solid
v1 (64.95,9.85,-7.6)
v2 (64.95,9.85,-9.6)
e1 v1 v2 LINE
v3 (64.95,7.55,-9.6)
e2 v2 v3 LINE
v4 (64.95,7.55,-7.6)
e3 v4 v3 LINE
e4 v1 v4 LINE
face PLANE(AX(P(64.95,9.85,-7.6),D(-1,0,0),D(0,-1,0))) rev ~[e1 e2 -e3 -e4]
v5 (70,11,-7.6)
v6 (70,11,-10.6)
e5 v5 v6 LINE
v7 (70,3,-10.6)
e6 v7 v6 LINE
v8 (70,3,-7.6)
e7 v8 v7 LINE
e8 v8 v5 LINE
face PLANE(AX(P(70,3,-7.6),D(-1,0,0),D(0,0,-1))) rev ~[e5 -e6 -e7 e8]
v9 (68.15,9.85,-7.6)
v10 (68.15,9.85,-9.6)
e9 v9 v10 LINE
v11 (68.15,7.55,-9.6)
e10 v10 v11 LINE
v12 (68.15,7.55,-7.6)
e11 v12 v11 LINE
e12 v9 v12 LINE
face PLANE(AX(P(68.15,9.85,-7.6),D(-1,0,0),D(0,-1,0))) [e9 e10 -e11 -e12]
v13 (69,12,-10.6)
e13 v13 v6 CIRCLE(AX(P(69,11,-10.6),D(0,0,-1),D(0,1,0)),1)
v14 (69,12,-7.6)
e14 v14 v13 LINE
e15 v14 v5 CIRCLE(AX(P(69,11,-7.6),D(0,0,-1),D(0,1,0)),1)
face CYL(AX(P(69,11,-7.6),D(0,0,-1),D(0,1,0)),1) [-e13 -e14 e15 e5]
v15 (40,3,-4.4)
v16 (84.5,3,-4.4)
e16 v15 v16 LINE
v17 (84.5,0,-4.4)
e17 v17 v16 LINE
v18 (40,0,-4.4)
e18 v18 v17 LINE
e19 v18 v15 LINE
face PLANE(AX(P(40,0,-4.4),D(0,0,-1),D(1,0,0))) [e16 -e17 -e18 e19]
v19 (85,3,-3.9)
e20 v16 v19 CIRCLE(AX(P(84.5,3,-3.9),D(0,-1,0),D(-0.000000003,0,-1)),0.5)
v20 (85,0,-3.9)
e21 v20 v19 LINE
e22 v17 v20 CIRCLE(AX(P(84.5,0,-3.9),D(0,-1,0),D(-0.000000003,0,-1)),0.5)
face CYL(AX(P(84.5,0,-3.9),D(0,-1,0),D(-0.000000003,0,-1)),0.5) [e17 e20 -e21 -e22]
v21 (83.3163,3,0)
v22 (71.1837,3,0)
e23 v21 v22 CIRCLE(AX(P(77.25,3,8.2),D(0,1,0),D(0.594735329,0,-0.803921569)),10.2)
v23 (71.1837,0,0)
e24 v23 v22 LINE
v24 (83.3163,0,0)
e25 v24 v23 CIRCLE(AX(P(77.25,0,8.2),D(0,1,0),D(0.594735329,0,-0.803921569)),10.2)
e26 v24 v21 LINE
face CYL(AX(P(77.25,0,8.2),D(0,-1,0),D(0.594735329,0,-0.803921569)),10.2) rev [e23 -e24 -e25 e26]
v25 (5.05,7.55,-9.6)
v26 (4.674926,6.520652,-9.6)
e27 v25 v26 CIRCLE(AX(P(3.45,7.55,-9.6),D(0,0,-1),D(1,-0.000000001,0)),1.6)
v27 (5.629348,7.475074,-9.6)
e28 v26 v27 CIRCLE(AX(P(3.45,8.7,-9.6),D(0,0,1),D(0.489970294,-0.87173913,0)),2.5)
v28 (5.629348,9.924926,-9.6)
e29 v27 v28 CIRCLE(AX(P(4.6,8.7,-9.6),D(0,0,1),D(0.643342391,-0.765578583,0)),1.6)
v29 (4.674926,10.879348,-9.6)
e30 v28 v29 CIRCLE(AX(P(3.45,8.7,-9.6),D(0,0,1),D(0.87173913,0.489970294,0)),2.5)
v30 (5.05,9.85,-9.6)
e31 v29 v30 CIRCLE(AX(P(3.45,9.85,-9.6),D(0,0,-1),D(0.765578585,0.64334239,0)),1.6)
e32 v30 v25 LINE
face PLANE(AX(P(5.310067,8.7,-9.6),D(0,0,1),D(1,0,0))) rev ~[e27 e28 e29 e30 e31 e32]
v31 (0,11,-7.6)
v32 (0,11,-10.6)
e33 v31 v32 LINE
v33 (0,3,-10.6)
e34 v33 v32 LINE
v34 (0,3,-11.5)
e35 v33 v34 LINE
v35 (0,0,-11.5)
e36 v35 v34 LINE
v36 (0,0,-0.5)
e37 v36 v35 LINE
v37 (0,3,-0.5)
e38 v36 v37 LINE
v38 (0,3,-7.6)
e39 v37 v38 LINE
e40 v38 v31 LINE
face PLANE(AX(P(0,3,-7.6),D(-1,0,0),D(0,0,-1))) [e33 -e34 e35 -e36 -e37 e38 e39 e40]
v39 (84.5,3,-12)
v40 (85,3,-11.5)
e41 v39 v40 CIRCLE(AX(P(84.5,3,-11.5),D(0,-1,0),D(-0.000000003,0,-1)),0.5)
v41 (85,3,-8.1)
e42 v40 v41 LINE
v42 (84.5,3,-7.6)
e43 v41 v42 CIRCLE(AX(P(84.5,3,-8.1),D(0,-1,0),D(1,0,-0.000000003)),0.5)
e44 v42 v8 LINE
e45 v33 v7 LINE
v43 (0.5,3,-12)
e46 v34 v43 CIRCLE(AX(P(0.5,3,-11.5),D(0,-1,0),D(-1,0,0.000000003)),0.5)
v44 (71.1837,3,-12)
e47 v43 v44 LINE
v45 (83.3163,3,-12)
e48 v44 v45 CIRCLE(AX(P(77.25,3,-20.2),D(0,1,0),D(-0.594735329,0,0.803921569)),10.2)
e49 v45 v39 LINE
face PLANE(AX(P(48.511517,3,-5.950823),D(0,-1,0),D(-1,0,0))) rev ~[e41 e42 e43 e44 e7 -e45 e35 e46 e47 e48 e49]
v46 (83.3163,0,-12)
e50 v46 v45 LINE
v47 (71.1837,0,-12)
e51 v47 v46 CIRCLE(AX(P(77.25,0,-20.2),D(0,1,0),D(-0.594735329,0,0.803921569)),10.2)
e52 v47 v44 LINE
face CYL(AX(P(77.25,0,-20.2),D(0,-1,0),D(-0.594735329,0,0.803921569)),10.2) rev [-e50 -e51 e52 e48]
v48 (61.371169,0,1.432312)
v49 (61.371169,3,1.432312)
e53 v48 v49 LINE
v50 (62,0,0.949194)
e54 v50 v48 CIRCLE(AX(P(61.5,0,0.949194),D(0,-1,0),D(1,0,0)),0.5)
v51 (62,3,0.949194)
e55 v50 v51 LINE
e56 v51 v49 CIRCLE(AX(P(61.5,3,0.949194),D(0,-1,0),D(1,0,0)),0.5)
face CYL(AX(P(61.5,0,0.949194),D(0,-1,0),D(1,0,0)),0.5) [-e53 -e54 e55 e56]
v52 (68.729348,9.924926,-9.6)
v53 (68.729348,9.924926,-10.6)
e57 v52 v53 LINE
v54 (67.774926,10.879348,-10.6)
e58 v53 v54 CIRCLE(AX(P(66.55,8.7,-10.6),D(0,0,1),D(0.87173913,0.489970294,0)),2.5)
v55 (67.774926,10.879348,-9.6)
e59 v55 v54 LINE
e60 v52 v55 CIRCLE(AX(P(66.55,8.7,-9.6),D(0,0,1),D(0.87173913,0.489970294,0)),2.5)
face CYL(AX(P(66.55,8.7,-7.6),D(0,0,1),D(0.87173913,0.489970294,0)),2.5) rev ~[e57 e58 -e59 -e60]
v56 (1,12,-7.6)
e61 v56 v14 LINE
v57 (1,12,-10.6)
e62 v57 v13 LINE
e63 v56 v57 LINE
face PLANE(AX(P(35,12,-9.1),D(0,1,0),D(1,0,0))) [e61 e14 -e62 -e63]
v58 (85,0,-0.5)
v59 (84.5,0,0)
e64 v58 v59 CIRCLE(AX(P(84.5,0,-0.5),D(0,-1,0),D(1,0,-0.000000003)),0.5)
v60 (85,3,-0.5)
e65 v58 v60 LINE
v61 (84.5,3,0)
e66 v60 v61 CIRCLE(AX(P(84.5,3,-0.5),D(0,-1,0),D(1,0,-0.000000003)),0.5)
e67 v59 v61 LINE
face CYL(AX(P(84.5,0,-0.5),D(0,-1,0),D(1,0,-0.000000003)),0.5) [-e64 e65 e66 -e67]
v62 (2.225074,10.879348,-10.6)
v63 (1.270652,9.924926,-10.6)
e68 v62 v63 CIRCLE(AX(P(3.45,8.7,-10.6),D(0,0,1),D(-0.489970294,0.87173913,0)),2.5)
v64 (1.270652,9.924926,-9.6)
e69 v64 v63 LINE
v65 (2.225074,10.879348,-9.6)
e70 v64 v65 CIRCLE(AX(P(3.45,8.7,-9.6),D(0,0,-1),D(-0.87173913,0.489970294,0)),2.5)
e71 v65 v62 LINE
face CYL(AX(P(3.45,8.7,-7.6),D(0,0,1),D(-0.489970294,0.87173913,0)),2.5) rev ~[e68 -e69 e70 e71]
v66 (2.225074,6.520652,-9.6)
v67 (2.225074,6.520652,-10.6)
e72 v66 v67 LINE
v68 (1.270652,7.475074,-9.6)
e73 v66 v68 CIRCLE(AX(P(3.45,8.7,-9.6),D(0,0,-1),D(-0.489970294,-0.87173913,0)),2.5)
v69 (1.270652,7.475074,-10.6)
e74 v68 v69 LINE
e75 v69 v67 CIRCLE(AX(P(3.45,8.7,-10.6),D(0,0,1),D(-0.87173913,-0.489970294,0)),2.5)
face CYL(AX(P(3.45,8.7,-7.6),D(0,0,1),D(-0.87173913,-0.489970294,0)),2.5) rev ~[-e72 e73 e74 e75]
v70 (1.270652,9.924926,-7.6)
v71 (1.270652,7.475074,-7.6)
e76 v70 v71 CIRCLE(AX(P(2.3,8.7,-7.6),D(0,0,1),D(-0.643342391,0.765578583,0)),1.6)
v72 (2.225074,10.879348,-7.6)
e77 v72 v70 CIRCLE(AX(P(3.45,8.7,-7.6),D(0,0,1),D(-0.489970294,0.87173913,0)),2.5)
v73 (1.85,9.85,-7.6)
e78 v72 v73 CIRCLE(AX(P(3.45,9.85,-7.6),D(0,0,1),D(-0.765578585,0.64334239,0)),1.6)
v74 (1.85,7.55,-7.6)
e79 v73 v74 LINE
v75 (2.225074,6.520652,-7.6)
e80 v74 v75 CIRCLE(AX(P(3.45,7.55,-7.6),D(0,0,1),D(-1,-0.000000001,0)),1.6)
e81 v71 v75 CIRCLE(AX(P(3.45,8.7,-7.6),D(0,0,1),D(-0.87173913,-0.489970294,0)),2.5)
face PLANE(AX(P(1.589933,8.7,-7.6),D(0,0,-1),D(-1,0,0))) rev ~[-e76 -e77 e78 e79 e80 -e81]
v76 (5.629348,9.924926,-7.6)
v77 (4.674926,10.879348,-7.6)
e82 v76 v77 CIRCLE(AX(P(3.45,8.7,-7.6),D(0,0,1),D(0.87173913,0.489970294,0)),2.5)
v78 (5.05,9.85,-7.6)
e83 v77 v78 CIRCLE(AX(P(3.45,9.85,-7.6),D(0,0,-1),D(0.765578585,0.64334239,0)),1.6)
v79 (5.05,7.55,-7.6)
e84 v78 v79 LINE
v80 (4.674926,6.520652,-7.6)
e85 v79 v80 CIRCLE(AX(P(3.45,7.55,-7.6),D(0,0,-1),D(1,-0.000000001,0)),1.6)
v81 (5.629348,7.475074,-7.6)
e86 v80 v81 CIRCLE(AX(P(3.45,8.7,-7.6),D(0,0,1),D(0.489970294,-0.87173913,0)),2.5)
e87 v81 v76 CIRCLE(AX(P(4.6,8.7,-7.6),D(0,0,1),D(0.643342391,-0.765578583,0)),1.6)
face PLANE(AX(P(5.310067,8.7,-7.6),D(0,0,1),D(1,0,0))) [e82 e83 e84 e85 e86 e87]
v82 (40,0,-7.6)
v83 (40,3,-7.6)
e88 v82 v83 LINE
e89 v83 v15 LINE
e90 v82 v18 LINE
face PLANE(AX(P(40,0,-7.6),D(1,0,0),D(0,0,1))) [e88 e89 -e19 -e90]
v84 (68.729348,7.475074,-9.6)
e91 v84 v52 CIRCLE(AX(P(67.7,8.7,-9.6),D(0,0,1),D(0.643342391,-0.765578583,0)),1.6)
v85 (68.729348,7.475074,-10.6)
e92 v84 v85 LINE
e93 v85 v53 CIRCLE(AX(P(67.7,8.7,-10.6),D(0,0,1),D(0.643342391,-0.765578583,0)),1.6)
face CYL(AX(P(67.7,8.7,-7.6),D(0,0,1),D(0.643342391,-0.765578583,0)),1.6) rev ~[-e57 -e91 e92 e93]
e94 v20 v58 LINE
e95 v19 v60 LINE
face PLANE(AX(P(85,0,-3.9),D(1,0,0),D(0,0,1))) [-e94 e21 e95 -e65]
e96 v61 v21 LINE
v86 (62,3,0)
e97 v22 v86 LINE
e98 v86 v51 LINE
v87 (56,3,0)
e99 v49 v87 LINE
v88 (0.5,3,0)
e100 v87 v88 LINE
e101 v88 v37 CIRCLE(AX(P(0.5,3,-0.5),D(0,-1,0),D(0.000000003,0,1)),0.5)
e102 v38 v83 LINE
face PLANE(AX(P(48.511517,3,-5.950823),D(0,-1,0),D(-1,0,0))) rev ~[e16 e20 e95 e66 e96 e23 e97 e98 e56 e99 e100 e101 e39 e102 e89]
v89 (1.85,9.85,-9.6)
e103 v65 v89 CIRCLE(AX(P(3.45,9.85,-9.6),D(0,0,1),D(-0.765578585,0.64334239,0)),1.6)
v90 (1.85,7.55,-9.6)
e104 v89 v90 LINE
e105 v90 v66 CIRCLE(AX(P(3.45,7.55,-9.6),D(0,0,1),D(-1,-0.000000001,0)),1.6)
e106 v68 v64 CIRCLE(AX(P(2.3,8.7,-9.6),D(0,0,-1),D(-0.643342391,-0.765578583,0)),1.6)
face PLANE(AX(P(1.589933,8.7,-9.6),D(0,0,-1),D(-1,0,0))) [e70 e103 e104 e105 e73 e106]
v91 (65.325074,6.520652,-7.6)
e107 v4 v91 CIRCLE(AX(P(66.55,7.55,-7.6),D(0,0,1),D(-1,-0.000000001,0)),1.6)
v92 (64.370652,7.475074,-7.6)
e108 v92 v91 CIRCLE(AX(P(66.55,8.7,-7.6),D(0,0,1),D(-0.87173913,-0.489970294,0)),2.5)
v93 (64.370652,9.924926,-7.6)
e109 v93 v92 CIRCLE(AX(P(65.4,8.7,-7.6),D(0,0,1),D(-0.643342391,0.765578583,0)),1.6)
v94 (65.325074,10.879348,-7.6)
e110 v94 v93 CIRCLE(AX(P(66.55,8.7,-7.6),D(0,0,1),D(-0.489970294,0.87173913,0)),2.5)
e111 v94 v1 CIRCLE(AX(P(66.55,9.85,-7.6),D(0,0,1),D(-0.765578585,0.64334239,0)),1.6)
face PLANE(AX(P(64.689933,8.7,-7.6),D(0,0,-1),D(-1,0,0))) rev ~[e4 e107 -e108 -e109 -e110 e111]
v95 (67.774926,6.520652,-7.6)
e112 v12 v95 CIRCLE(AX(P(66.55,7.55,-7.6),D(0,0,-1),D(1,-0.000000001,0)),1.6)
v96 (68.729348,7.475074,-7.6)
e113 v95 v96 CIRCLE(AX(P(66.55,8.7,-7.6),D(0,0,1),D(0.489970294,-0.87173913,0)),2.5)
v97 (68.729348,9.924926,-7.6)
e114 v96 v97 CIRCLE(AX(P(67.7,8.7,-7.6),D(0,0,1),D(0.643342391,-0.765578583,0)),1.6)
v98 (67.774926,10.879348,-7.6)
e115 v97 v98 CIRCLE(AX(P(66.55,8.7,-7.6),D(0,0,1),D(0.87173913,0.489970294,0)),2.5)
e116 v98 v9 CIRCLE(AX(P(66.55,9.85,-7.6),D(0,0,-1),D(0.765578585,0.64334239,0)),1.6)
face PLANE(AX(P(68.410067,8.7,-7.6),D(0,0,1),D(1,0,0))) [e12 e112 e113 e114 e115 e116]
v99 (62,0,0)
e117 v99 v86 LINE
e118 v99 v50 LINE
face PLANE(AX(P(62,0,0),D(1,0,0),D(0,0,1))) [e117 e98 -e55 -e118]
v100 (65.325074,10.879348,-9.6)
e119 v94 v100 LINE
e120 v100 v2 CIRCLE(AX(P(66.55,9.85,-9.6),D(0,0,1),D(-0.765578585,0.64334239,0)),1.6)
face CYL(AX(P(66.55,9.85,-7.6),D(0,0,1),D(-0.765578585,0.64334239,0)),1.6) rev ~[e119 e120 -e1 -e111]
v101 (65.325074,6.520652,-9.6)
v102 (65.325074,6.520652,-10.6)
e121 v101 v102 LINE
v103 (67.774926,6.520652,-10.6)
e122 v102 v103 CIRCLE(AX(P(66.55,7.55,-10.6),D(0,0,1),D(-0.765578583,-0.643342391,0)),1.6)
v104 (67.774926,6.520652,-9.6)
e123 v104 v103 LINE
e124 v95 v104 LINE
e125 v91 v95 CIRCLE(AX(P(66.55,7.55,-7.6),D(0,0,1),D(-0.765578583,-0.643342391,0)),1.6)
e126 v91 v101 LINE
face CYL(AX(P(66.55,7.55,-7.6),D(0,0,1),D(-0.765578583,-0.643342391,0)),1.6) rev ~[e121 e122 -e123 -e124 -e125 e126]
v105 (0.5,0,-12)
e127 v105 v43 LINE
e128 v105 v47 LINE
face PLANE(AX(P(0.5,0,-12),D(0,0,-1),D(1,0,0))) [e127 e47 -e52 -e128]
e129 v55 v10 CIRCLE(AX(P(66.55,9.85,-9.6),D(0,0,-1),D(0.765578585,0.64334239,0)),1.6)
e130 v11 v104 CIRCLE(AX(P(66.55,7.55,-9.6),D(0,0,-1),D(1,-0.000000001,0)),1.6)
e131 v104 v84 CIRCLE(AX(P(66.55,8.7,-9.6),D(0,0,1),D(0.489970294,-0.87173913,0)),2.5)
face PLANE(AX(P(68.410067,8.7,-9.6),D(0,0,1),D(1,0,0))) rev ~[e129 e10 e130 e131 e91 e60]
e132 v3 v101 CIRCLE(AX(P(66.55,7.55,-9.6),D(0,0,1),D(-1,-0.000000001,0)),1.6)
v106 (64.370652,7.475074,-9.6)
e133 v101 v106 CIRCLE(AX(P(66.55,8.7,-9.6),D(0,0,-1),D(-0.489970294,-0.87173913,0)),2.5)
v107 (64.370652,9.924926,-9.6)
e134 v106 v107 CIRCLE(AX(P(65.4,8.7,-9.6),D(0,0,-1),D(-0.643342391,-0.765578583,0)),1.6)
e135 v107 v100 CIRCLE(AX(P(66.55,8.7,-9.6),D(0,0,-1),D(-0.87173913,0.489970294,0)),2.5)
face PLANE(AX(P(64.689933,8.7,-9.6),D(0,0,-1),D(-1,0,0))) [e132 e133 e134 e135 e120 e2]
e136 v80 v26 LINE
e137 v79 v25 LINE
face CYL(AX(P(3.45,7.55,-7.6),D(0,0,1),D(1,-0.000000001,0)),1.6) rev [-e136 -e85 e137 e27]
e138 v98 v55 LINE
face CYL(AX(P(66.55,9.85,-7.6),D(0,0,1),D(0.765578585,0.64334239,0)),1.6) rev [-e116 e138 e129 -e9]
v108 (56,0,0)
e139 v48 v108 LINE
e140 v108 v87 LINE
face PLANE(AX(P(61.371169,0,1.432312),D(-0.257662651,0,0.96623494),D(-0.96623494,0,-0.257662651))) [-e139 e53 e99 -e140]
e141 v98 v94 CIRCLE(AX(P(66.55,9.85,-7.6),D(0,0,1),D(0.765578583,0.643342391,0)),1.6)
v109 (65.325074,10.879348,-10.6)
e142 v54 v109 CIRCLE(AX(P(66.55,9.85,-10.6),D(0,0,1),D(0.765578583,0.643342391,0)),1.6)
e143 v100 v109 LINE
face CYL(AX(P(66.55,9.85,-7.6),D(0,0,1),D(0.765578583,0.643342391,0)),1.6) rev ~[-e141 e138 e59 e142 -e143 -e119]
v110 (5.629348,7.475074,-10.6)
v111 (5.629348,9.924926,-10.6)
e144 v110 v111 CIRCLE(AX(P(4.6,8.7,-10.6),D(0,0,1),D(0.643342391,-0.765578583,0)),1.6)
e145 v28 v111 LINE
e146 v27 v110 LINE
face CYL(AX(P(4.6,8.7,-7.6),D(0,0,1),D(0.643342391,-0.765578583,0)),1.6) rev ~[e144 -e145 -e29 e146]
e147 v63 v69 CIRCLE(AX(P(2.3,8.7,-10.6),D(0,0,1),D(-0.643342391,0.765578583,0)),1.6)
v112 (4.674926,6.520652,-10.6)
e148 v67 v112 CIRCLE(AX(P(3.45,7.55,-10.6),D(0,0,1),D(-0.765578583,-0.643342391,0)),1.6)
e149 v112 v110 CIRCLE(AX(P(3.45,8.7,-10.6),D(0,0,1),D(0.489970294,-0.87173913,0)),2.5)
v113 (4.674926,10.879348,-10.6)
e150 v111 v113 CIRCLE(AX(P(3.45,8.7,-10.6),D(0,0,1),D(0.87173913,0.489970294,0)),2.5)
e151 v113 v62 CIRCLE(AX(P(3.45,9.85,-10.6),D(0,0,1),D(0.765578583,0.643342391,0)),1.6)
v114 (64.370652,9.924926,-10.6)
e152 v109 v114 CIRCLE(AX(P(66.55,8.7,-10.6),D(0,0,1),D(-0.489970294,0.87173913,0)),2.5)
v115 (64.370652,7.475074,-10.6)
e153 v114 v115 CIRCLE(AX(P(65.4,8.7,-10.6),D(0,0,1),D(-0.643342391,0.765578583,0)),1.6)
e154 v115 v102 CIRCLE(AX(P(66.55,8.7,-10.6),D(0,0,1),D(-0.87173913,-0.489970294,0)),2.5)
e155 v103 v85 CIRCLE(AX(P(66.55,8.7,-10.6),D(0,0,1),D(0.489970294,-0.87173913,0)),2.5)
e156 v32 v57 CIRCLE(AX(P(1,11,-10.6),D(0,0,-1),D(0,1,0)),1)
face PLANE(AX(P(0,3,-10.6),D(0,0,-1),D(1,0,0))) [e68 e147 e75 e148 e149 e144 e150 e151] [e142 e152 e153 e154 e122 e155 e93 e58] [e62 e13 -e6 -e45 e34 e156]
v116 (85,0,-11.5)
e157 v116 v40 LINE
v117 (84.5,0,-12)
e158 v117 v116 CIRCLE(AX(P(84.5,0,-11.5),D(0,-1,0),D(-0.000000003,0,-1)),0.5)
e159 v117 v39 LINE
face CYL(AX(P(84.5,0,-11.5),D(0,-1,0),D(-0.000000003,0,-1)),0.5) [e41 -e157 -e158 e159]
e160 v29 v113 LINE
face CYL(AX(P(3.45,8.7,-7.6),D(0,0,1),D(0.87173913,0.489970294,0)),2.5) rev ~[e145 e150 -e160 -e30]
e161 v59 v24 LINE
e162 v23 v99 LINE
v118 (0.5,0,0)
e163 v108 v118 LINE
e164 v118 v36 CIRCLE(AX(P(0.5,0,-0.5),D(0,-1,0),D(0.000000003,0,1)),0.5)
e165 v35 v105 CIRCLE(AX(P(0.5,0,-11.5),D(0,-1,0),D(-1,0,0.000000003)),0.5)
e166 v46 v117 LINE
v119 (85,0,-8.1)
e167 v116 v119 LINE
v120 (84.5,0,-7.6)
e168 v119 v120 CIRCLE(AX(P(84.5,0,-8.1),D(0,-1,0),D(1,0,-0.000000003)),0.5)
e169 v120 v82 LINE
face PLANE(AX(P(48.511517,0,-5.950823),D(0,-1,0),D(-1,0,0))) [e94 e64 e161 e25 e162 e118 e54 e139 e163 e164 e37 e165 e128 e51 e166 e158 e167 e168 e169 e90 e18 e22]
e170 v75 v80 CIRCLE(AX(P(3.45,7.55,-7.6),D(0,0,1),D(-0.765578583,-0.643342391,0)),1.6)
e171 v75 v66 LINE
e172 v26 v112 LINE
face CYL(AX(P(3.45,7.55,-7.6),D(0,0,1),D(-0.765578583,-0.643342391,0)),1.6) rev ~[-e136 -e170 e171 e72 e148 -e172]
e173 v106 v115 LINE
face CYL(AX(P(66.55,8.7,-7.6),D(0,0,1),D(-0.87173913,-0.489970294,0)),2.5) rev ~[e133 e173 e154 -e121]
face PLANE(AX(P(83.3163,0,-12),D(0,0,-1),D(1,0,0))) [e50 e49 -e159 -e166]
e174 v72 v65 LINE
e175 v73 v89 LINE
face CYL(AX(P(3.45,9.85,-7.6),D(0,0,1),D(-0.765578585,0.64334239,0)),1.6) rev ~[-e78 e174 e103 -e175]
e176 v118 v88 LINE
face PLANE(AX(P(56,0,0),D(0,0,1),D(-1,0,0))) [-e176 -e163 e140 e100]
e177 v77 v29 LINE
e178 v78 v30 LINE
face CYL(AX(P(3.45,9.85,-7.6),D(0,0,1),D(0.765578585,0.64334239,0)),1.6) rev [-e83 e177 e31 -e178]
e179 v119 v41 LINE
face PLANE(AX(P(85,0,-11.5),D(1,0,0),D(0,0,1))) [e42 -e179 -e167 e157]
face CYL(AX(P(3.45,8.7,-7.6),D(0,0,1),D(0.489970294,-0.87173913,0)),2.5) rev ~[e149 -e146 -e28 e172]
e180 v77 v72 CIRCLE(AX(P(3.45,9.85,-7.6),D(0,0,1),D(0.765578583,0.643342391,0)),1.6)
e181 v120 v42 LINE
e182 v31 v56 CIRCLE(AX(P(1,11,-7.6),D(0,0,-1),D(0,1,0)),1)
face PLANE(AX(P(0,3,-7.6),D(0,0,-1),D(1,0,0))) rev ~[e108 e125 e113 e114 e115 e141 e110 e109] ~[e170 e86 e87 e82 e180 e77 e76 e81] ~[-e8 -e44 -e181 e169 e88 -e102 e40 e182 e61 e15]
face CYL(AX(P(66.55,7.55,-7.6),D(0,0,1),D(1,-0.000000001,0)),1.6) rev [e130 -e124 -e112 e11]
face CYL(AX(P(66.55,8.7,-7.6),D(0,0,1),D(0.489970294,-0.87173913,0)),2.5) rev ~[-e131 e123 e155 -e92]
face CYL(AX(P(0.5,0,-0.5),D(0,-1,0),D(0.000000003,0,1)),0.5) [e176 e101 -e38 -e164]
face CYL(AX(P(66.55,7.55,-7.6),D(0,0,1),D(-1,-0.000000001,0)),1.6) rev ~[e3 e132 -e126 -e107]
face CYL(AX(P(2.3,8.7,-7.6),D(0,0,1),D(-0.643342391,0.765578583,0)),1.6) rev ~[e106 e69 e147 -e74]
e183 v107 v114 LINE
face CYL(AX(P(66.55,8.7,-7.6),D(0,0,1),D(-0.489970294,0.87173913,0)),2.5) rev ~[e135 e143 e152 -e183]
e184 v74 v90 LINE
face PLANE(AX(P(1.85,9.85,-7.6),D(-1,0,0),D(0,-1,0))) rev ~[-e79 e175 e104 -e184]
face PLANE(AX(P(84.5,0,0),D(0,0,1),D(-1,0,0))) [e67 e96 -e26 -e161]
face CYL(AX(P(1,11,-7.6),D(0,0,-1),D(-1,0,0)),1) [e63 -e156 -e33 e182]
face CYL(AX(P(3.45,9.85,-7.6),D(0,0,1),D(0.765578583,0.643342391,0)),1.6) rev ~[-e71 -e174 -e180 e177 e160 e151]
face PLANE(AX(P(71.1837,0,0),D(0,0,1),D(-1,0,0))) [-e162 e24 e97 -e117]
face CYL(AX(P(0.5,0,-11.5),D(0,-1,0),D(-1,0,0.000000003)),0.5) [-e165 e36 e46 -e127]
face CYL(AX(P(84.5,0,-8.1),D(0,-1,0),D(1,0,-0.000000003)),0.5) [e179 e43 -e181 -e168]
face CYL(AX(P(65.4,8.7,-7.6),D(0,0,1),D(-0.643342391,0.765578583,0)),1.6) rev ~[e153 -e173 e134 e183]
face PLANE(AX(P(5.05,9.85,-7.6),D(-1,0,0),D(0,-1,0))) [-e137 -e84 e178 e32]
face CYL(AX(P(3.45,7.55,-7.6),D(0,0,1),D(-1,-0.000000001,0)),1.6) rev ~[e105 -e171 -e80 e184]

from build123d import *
from build123d.topology import SkipClean

# Parameters (mm, degrees)
EXTRUDE_1_DEPTH     = 3
SKETCH_4_W          = 70
SKETCH_4_H          = 3
EXTRUDE_2_DEPTH     = 9
CUT_EXTRUDE_1_REACH = 88.319
FILLET_1_R          = 1
EXTRUDE_3_DEPTH     = 2


with BuildPart() as part:
    # ｽｹｯﾁ2 → ﾎﾞｽ - 押し出し1 (new body)
    with BuildSketch(Plane(origin=(0, 0, 0), x_dir=(1, 0, 0), z_dir=(0, 1, 0))):
        with BuildLine():
            Line((70, 7.6), (40, 7.6))
            Line((40, 7.6), (40, 4.4))
            Line((40, 4.4), (70, 4.4))
            Line((70, 4.4), (84.5, 4.4))
            ThreePointArc((84.5, 4.4), (84.853553391, 4.253553391), (85, 3.9))
            Line((85, 3.9), (85, 0.5))
            ThreePointArc((85, 0.5), (84.853553391, 0.146446609), (84.5, 0))
            Line((84.5, 0), (83.316300355, 0))
            ThreePointArc((83.316300355, 0), (77.25, 2), (71.183699645, 0))
            Line((71.183699645, 0), (70, 0))
            Line((70, 0), (62, 0))
            Line((62, 0), (62, -0.949194177))
            ThreePointArc((62, -0.949194177), (61.80461807, -1.345688605), (61.371168675, -1.432311647))
            Line((61.371168675, -1.432311647), (56, 0))
            Line((56, 0), (0.5, 0))
            ThreePointArc((0.5, 0), (0.146446609, 0.146446609), (0, 0.5))
            Line((0, 0.5), (0, 11.5))
            ThreePointArc((0, 11.5), (0.146446609, 11.853553391), (0.5, 12))
            Line((0.5, 12), (70, 12))
            Line((70, 12), (71.183699645, 12))
            ThreePointArc((71.183699645, 12), (77.25, 10), (83.316300355, 12))
            Line((83.316300355, 12), (84.5, 12))
            ThreePointArc((84.5, 12), (84.853553391, 11.853553391), (85, 11.5))
            Line((85, 11.5), (85, 8.1))
            ThreePointArc((85, 8.1), (84.853553391, 7.746446609), (84.5, 7.6))
            Line((84.5, 7.6), (70, 7.6))
        make_face()
    extrude(amount=EXTRUDE_1_DEPTH)

    # ｽｹｯﾁ4 → ﾎﾞｽ - 押し出し2 (add)
    with BuildSketch(Plane(origin=(0, 3, 0), x_dir=(1, 0, 0), z_dir=(0, 1, 0))):
        with Locations((35, 9.1)):
            Rectangle(SKETCH_4_W, SKETCH_4_H)
    extrude(amount=EXTRUDE_2_DEPTH)

    # ｽｹｯﾁ5 → ｶｯﾄ - 押し出し1 (cut, up to next)
    with BuildSketch(Plane.XY.offset(-7.6), mode=Mode.PRIVATE) as cut_extrude_1_sk1:
        with BuildLine():
            ThreePointArc((64.370652174, 9.924925734), (63.8, 8.7), (64.370652174, 7.475074266))
            ThreePointArc((64.370652174, 7.475074266), (64.782233047, 6.932233047), (65.325074266, 6.520652174))
            ThreePointArc((65.325074266, 6.520652174), (66.55, 5.95), (67.774925734, 6.520652174))
            ThreePointArc((67.774925734, 6.520652174), (68.317766953, 6.932233047), (68.729347826, 7.475074266))
            ThreePointArc((68.729347826, 7.475074266), (69.3, 8.7), (68.729347826, 9.924925734))
            ThreePointArc((68.729347826, 9.924925734), (68.317766953, 10.467766953), (67.774925734, 10.879347826))
            ThreePointArc((67.774925734, 10.879347826), (66.55, 11.45), (65.325074266, 10.879347826))
            ThreePointArc((65.325074266, 10.879347826), (64.782233047, 10.467766953), (64.370652174, 9.924925734))
        make_face()
    cut_extrude_1_tool1 = extrude(cut_extrude_1_sk1.sketch, amount=-CUT_EXTRUDE_1_REACH, mode=Mode.PRIVATE) & part.part
    # ｽｹｯﾁ5 → ｶｯﾄ - 押し出し1 (cut, up to next)
    with BuildSketch(Plane.XY.offset(-7.6), mode=Mode.PRIVATE) as cut_extrude_1_sk2:
        with BuildLine():
            ThreePointArc((5.629347826, 7.475074266), (6.2, 8.7), (5.629347826, 9.924925734))
            ThreePointArc((5.629347826, 9.924925734), (5.217766953, 10.467766953), (4.674925734, 10.879347826))
            ThreePointArc((4.674925734, 10.879347826), (3.45, 11.45), (2.225074266, 10.879347826))
            ThreePointArc((2.225074266, 10.879347826), (1.682233047, 10.467766953), (1.270652174, 9.924925734))
            ThreePointArc((1.270652174, 9.924925734), (0.7, 8.7), (1.270652174, 7.475074266))
            ThreePointArc((1.270652174, 7.475074266), (1.682233047, 6.932233047), (2.225074266, 6.520652174))
            ThreePointArc((2.225074266, 6.520652174), (3.45, 5.95), (4.674925734, 6.520652174))
            ThreePointArc((4.674925734, 6.520652174), (5.217766953, 6.932233047), (5.629347826, 7.475074266))
        make_face()
    cut_extrude_1_tool2 = extrude(cut_extrude_1_sk2.sketch, amount=-CUT_EXTRUDE_1_REACH, mode=Mode.PRIVATE) & part.part
    add(cut_extrude_1_tool1.solids().sort_by_distance((66.55, 8.7, -7.6))[0], mode=Mode.SUBTRACT)
    add(cut_extrude_1_tool2.solids().sort_by_distance((3.45, 8.7, -7.6))[0], mode=Mode.SUBTRACT)

    # ﾌｨﾚｯﾄ1
    fillet_1_edges = [part.edges().sort_by_distance(p)[0] for p in [
        (70, 12, -9.1),
        (0, 12, -9.1),
    ]]
    fillet(fillet_1_edges, radius=FILLET_1_R)

    # ｽｹｯﾁ6 → ﾎﾞｽ - 押し出し3 (add)
    with SkipClean():  # the faces are left unmerged after this step: merging them gives an invalid solid
        with BuildSketch(Plane.XY.offset(-7.6)):
            with BuildLine():
                Line((1.85, 9.85), (1.85, 7.55))
                ThreePointArc((1.85, 7.55), (1.946690123, 7.002223209), (2.225074266, 6.520652174))
                ThreePointArc((2.225074266, 6.520652174), (1.682233047, 6.932233047), (1.270652174, 7.475074266))
                ThreePointArc((1.270652174, 7.475074266), (0.7, 8.7), (1.270652174, 9.924925734))
                ThreePointArc((1.270652174, 9.924925734), (1.682233047, 10.467766953), (2.225074266, 10.879347826))
                ThreePointArc((2.225074266, 10.879347826), (1.946690123, 10.397776791), (1.85, 9.85))
            make_face()
            with BuildLine():
                Line((5.05, 9.85), (5.05, 7.55))
                ThreePointArc((5.05, 7.55), (4.953309877, 7.002223209), (4.674925734, 6.520652174))
                ThreePointArc((4.674925734, 6.520652174), (5.217766953, 6.932233047), (5.629347826, 7.475074266))
                ThreePointArc((5.629347826, 7.475074266), (6.2, 8.7), (5.629347826, 9.924925734))
                ThreePointArc((5.629347826, 9.924925734), (5.217766953, 10.467766953), (4.674925734, 10.879347826))
                ThreePointArc((4.674925734, 10.879347826), (4.953309877, 10.397776791), (5.05, 9.85))
            make_face()
            with BuildLine():
                Line((64.95, 9.85), (64.95, 7.55))
                ThreePointArc((64.95, 7.55), (65.046690123, 7.002223209), (65.325074266, 6.520652174))
                ThreePointArc((65.325074266, 6.520652174), (64.782233047, 6.932233047), (64.370652174, 7.475074266))
                ThreePointArc((64.370652174, 7.475074266), (63.8, 8.7), (64.370652174, 9.924925734))
                ThreePointArc((64.370652174, 9.924925734), (64.782233047, 10.467766953), (65.325074266, 10.879347826))
                ThreePointArc((65.325074266, 10.879347826), (65.046690123, 10.397776791), (64.95, 9.85))
            make_face()
            with BuildLine():
                Line((68.15, 9.85), (68.15, 7.55))
                ThreePointArc((68.15, 7.55), (68.053309877, 7.002223209), (67.774925734, 6.520652174))
                ThreePointArc((67.774925734, 6.520652174), (68.317766953, 6.932233047), (68.729347826, 7.475074266))
                ThreePointArc((68.729347826, 7.475074266), (69.3, 8.7), (68.729347826, 9.924925734))
                ThreePointArc((68.729347826, 9.924925734), (68.317766953, 10.467766953), (67.774925734, 10.879347826))
                ThreePointArc((67.774925734, 10.879347826), (68.053309877, 10.397776791), (68.15, 9.85))
            make_face()
        extrude(amount=-EXTRUDE_3_DEPTH)


solid = part.part
